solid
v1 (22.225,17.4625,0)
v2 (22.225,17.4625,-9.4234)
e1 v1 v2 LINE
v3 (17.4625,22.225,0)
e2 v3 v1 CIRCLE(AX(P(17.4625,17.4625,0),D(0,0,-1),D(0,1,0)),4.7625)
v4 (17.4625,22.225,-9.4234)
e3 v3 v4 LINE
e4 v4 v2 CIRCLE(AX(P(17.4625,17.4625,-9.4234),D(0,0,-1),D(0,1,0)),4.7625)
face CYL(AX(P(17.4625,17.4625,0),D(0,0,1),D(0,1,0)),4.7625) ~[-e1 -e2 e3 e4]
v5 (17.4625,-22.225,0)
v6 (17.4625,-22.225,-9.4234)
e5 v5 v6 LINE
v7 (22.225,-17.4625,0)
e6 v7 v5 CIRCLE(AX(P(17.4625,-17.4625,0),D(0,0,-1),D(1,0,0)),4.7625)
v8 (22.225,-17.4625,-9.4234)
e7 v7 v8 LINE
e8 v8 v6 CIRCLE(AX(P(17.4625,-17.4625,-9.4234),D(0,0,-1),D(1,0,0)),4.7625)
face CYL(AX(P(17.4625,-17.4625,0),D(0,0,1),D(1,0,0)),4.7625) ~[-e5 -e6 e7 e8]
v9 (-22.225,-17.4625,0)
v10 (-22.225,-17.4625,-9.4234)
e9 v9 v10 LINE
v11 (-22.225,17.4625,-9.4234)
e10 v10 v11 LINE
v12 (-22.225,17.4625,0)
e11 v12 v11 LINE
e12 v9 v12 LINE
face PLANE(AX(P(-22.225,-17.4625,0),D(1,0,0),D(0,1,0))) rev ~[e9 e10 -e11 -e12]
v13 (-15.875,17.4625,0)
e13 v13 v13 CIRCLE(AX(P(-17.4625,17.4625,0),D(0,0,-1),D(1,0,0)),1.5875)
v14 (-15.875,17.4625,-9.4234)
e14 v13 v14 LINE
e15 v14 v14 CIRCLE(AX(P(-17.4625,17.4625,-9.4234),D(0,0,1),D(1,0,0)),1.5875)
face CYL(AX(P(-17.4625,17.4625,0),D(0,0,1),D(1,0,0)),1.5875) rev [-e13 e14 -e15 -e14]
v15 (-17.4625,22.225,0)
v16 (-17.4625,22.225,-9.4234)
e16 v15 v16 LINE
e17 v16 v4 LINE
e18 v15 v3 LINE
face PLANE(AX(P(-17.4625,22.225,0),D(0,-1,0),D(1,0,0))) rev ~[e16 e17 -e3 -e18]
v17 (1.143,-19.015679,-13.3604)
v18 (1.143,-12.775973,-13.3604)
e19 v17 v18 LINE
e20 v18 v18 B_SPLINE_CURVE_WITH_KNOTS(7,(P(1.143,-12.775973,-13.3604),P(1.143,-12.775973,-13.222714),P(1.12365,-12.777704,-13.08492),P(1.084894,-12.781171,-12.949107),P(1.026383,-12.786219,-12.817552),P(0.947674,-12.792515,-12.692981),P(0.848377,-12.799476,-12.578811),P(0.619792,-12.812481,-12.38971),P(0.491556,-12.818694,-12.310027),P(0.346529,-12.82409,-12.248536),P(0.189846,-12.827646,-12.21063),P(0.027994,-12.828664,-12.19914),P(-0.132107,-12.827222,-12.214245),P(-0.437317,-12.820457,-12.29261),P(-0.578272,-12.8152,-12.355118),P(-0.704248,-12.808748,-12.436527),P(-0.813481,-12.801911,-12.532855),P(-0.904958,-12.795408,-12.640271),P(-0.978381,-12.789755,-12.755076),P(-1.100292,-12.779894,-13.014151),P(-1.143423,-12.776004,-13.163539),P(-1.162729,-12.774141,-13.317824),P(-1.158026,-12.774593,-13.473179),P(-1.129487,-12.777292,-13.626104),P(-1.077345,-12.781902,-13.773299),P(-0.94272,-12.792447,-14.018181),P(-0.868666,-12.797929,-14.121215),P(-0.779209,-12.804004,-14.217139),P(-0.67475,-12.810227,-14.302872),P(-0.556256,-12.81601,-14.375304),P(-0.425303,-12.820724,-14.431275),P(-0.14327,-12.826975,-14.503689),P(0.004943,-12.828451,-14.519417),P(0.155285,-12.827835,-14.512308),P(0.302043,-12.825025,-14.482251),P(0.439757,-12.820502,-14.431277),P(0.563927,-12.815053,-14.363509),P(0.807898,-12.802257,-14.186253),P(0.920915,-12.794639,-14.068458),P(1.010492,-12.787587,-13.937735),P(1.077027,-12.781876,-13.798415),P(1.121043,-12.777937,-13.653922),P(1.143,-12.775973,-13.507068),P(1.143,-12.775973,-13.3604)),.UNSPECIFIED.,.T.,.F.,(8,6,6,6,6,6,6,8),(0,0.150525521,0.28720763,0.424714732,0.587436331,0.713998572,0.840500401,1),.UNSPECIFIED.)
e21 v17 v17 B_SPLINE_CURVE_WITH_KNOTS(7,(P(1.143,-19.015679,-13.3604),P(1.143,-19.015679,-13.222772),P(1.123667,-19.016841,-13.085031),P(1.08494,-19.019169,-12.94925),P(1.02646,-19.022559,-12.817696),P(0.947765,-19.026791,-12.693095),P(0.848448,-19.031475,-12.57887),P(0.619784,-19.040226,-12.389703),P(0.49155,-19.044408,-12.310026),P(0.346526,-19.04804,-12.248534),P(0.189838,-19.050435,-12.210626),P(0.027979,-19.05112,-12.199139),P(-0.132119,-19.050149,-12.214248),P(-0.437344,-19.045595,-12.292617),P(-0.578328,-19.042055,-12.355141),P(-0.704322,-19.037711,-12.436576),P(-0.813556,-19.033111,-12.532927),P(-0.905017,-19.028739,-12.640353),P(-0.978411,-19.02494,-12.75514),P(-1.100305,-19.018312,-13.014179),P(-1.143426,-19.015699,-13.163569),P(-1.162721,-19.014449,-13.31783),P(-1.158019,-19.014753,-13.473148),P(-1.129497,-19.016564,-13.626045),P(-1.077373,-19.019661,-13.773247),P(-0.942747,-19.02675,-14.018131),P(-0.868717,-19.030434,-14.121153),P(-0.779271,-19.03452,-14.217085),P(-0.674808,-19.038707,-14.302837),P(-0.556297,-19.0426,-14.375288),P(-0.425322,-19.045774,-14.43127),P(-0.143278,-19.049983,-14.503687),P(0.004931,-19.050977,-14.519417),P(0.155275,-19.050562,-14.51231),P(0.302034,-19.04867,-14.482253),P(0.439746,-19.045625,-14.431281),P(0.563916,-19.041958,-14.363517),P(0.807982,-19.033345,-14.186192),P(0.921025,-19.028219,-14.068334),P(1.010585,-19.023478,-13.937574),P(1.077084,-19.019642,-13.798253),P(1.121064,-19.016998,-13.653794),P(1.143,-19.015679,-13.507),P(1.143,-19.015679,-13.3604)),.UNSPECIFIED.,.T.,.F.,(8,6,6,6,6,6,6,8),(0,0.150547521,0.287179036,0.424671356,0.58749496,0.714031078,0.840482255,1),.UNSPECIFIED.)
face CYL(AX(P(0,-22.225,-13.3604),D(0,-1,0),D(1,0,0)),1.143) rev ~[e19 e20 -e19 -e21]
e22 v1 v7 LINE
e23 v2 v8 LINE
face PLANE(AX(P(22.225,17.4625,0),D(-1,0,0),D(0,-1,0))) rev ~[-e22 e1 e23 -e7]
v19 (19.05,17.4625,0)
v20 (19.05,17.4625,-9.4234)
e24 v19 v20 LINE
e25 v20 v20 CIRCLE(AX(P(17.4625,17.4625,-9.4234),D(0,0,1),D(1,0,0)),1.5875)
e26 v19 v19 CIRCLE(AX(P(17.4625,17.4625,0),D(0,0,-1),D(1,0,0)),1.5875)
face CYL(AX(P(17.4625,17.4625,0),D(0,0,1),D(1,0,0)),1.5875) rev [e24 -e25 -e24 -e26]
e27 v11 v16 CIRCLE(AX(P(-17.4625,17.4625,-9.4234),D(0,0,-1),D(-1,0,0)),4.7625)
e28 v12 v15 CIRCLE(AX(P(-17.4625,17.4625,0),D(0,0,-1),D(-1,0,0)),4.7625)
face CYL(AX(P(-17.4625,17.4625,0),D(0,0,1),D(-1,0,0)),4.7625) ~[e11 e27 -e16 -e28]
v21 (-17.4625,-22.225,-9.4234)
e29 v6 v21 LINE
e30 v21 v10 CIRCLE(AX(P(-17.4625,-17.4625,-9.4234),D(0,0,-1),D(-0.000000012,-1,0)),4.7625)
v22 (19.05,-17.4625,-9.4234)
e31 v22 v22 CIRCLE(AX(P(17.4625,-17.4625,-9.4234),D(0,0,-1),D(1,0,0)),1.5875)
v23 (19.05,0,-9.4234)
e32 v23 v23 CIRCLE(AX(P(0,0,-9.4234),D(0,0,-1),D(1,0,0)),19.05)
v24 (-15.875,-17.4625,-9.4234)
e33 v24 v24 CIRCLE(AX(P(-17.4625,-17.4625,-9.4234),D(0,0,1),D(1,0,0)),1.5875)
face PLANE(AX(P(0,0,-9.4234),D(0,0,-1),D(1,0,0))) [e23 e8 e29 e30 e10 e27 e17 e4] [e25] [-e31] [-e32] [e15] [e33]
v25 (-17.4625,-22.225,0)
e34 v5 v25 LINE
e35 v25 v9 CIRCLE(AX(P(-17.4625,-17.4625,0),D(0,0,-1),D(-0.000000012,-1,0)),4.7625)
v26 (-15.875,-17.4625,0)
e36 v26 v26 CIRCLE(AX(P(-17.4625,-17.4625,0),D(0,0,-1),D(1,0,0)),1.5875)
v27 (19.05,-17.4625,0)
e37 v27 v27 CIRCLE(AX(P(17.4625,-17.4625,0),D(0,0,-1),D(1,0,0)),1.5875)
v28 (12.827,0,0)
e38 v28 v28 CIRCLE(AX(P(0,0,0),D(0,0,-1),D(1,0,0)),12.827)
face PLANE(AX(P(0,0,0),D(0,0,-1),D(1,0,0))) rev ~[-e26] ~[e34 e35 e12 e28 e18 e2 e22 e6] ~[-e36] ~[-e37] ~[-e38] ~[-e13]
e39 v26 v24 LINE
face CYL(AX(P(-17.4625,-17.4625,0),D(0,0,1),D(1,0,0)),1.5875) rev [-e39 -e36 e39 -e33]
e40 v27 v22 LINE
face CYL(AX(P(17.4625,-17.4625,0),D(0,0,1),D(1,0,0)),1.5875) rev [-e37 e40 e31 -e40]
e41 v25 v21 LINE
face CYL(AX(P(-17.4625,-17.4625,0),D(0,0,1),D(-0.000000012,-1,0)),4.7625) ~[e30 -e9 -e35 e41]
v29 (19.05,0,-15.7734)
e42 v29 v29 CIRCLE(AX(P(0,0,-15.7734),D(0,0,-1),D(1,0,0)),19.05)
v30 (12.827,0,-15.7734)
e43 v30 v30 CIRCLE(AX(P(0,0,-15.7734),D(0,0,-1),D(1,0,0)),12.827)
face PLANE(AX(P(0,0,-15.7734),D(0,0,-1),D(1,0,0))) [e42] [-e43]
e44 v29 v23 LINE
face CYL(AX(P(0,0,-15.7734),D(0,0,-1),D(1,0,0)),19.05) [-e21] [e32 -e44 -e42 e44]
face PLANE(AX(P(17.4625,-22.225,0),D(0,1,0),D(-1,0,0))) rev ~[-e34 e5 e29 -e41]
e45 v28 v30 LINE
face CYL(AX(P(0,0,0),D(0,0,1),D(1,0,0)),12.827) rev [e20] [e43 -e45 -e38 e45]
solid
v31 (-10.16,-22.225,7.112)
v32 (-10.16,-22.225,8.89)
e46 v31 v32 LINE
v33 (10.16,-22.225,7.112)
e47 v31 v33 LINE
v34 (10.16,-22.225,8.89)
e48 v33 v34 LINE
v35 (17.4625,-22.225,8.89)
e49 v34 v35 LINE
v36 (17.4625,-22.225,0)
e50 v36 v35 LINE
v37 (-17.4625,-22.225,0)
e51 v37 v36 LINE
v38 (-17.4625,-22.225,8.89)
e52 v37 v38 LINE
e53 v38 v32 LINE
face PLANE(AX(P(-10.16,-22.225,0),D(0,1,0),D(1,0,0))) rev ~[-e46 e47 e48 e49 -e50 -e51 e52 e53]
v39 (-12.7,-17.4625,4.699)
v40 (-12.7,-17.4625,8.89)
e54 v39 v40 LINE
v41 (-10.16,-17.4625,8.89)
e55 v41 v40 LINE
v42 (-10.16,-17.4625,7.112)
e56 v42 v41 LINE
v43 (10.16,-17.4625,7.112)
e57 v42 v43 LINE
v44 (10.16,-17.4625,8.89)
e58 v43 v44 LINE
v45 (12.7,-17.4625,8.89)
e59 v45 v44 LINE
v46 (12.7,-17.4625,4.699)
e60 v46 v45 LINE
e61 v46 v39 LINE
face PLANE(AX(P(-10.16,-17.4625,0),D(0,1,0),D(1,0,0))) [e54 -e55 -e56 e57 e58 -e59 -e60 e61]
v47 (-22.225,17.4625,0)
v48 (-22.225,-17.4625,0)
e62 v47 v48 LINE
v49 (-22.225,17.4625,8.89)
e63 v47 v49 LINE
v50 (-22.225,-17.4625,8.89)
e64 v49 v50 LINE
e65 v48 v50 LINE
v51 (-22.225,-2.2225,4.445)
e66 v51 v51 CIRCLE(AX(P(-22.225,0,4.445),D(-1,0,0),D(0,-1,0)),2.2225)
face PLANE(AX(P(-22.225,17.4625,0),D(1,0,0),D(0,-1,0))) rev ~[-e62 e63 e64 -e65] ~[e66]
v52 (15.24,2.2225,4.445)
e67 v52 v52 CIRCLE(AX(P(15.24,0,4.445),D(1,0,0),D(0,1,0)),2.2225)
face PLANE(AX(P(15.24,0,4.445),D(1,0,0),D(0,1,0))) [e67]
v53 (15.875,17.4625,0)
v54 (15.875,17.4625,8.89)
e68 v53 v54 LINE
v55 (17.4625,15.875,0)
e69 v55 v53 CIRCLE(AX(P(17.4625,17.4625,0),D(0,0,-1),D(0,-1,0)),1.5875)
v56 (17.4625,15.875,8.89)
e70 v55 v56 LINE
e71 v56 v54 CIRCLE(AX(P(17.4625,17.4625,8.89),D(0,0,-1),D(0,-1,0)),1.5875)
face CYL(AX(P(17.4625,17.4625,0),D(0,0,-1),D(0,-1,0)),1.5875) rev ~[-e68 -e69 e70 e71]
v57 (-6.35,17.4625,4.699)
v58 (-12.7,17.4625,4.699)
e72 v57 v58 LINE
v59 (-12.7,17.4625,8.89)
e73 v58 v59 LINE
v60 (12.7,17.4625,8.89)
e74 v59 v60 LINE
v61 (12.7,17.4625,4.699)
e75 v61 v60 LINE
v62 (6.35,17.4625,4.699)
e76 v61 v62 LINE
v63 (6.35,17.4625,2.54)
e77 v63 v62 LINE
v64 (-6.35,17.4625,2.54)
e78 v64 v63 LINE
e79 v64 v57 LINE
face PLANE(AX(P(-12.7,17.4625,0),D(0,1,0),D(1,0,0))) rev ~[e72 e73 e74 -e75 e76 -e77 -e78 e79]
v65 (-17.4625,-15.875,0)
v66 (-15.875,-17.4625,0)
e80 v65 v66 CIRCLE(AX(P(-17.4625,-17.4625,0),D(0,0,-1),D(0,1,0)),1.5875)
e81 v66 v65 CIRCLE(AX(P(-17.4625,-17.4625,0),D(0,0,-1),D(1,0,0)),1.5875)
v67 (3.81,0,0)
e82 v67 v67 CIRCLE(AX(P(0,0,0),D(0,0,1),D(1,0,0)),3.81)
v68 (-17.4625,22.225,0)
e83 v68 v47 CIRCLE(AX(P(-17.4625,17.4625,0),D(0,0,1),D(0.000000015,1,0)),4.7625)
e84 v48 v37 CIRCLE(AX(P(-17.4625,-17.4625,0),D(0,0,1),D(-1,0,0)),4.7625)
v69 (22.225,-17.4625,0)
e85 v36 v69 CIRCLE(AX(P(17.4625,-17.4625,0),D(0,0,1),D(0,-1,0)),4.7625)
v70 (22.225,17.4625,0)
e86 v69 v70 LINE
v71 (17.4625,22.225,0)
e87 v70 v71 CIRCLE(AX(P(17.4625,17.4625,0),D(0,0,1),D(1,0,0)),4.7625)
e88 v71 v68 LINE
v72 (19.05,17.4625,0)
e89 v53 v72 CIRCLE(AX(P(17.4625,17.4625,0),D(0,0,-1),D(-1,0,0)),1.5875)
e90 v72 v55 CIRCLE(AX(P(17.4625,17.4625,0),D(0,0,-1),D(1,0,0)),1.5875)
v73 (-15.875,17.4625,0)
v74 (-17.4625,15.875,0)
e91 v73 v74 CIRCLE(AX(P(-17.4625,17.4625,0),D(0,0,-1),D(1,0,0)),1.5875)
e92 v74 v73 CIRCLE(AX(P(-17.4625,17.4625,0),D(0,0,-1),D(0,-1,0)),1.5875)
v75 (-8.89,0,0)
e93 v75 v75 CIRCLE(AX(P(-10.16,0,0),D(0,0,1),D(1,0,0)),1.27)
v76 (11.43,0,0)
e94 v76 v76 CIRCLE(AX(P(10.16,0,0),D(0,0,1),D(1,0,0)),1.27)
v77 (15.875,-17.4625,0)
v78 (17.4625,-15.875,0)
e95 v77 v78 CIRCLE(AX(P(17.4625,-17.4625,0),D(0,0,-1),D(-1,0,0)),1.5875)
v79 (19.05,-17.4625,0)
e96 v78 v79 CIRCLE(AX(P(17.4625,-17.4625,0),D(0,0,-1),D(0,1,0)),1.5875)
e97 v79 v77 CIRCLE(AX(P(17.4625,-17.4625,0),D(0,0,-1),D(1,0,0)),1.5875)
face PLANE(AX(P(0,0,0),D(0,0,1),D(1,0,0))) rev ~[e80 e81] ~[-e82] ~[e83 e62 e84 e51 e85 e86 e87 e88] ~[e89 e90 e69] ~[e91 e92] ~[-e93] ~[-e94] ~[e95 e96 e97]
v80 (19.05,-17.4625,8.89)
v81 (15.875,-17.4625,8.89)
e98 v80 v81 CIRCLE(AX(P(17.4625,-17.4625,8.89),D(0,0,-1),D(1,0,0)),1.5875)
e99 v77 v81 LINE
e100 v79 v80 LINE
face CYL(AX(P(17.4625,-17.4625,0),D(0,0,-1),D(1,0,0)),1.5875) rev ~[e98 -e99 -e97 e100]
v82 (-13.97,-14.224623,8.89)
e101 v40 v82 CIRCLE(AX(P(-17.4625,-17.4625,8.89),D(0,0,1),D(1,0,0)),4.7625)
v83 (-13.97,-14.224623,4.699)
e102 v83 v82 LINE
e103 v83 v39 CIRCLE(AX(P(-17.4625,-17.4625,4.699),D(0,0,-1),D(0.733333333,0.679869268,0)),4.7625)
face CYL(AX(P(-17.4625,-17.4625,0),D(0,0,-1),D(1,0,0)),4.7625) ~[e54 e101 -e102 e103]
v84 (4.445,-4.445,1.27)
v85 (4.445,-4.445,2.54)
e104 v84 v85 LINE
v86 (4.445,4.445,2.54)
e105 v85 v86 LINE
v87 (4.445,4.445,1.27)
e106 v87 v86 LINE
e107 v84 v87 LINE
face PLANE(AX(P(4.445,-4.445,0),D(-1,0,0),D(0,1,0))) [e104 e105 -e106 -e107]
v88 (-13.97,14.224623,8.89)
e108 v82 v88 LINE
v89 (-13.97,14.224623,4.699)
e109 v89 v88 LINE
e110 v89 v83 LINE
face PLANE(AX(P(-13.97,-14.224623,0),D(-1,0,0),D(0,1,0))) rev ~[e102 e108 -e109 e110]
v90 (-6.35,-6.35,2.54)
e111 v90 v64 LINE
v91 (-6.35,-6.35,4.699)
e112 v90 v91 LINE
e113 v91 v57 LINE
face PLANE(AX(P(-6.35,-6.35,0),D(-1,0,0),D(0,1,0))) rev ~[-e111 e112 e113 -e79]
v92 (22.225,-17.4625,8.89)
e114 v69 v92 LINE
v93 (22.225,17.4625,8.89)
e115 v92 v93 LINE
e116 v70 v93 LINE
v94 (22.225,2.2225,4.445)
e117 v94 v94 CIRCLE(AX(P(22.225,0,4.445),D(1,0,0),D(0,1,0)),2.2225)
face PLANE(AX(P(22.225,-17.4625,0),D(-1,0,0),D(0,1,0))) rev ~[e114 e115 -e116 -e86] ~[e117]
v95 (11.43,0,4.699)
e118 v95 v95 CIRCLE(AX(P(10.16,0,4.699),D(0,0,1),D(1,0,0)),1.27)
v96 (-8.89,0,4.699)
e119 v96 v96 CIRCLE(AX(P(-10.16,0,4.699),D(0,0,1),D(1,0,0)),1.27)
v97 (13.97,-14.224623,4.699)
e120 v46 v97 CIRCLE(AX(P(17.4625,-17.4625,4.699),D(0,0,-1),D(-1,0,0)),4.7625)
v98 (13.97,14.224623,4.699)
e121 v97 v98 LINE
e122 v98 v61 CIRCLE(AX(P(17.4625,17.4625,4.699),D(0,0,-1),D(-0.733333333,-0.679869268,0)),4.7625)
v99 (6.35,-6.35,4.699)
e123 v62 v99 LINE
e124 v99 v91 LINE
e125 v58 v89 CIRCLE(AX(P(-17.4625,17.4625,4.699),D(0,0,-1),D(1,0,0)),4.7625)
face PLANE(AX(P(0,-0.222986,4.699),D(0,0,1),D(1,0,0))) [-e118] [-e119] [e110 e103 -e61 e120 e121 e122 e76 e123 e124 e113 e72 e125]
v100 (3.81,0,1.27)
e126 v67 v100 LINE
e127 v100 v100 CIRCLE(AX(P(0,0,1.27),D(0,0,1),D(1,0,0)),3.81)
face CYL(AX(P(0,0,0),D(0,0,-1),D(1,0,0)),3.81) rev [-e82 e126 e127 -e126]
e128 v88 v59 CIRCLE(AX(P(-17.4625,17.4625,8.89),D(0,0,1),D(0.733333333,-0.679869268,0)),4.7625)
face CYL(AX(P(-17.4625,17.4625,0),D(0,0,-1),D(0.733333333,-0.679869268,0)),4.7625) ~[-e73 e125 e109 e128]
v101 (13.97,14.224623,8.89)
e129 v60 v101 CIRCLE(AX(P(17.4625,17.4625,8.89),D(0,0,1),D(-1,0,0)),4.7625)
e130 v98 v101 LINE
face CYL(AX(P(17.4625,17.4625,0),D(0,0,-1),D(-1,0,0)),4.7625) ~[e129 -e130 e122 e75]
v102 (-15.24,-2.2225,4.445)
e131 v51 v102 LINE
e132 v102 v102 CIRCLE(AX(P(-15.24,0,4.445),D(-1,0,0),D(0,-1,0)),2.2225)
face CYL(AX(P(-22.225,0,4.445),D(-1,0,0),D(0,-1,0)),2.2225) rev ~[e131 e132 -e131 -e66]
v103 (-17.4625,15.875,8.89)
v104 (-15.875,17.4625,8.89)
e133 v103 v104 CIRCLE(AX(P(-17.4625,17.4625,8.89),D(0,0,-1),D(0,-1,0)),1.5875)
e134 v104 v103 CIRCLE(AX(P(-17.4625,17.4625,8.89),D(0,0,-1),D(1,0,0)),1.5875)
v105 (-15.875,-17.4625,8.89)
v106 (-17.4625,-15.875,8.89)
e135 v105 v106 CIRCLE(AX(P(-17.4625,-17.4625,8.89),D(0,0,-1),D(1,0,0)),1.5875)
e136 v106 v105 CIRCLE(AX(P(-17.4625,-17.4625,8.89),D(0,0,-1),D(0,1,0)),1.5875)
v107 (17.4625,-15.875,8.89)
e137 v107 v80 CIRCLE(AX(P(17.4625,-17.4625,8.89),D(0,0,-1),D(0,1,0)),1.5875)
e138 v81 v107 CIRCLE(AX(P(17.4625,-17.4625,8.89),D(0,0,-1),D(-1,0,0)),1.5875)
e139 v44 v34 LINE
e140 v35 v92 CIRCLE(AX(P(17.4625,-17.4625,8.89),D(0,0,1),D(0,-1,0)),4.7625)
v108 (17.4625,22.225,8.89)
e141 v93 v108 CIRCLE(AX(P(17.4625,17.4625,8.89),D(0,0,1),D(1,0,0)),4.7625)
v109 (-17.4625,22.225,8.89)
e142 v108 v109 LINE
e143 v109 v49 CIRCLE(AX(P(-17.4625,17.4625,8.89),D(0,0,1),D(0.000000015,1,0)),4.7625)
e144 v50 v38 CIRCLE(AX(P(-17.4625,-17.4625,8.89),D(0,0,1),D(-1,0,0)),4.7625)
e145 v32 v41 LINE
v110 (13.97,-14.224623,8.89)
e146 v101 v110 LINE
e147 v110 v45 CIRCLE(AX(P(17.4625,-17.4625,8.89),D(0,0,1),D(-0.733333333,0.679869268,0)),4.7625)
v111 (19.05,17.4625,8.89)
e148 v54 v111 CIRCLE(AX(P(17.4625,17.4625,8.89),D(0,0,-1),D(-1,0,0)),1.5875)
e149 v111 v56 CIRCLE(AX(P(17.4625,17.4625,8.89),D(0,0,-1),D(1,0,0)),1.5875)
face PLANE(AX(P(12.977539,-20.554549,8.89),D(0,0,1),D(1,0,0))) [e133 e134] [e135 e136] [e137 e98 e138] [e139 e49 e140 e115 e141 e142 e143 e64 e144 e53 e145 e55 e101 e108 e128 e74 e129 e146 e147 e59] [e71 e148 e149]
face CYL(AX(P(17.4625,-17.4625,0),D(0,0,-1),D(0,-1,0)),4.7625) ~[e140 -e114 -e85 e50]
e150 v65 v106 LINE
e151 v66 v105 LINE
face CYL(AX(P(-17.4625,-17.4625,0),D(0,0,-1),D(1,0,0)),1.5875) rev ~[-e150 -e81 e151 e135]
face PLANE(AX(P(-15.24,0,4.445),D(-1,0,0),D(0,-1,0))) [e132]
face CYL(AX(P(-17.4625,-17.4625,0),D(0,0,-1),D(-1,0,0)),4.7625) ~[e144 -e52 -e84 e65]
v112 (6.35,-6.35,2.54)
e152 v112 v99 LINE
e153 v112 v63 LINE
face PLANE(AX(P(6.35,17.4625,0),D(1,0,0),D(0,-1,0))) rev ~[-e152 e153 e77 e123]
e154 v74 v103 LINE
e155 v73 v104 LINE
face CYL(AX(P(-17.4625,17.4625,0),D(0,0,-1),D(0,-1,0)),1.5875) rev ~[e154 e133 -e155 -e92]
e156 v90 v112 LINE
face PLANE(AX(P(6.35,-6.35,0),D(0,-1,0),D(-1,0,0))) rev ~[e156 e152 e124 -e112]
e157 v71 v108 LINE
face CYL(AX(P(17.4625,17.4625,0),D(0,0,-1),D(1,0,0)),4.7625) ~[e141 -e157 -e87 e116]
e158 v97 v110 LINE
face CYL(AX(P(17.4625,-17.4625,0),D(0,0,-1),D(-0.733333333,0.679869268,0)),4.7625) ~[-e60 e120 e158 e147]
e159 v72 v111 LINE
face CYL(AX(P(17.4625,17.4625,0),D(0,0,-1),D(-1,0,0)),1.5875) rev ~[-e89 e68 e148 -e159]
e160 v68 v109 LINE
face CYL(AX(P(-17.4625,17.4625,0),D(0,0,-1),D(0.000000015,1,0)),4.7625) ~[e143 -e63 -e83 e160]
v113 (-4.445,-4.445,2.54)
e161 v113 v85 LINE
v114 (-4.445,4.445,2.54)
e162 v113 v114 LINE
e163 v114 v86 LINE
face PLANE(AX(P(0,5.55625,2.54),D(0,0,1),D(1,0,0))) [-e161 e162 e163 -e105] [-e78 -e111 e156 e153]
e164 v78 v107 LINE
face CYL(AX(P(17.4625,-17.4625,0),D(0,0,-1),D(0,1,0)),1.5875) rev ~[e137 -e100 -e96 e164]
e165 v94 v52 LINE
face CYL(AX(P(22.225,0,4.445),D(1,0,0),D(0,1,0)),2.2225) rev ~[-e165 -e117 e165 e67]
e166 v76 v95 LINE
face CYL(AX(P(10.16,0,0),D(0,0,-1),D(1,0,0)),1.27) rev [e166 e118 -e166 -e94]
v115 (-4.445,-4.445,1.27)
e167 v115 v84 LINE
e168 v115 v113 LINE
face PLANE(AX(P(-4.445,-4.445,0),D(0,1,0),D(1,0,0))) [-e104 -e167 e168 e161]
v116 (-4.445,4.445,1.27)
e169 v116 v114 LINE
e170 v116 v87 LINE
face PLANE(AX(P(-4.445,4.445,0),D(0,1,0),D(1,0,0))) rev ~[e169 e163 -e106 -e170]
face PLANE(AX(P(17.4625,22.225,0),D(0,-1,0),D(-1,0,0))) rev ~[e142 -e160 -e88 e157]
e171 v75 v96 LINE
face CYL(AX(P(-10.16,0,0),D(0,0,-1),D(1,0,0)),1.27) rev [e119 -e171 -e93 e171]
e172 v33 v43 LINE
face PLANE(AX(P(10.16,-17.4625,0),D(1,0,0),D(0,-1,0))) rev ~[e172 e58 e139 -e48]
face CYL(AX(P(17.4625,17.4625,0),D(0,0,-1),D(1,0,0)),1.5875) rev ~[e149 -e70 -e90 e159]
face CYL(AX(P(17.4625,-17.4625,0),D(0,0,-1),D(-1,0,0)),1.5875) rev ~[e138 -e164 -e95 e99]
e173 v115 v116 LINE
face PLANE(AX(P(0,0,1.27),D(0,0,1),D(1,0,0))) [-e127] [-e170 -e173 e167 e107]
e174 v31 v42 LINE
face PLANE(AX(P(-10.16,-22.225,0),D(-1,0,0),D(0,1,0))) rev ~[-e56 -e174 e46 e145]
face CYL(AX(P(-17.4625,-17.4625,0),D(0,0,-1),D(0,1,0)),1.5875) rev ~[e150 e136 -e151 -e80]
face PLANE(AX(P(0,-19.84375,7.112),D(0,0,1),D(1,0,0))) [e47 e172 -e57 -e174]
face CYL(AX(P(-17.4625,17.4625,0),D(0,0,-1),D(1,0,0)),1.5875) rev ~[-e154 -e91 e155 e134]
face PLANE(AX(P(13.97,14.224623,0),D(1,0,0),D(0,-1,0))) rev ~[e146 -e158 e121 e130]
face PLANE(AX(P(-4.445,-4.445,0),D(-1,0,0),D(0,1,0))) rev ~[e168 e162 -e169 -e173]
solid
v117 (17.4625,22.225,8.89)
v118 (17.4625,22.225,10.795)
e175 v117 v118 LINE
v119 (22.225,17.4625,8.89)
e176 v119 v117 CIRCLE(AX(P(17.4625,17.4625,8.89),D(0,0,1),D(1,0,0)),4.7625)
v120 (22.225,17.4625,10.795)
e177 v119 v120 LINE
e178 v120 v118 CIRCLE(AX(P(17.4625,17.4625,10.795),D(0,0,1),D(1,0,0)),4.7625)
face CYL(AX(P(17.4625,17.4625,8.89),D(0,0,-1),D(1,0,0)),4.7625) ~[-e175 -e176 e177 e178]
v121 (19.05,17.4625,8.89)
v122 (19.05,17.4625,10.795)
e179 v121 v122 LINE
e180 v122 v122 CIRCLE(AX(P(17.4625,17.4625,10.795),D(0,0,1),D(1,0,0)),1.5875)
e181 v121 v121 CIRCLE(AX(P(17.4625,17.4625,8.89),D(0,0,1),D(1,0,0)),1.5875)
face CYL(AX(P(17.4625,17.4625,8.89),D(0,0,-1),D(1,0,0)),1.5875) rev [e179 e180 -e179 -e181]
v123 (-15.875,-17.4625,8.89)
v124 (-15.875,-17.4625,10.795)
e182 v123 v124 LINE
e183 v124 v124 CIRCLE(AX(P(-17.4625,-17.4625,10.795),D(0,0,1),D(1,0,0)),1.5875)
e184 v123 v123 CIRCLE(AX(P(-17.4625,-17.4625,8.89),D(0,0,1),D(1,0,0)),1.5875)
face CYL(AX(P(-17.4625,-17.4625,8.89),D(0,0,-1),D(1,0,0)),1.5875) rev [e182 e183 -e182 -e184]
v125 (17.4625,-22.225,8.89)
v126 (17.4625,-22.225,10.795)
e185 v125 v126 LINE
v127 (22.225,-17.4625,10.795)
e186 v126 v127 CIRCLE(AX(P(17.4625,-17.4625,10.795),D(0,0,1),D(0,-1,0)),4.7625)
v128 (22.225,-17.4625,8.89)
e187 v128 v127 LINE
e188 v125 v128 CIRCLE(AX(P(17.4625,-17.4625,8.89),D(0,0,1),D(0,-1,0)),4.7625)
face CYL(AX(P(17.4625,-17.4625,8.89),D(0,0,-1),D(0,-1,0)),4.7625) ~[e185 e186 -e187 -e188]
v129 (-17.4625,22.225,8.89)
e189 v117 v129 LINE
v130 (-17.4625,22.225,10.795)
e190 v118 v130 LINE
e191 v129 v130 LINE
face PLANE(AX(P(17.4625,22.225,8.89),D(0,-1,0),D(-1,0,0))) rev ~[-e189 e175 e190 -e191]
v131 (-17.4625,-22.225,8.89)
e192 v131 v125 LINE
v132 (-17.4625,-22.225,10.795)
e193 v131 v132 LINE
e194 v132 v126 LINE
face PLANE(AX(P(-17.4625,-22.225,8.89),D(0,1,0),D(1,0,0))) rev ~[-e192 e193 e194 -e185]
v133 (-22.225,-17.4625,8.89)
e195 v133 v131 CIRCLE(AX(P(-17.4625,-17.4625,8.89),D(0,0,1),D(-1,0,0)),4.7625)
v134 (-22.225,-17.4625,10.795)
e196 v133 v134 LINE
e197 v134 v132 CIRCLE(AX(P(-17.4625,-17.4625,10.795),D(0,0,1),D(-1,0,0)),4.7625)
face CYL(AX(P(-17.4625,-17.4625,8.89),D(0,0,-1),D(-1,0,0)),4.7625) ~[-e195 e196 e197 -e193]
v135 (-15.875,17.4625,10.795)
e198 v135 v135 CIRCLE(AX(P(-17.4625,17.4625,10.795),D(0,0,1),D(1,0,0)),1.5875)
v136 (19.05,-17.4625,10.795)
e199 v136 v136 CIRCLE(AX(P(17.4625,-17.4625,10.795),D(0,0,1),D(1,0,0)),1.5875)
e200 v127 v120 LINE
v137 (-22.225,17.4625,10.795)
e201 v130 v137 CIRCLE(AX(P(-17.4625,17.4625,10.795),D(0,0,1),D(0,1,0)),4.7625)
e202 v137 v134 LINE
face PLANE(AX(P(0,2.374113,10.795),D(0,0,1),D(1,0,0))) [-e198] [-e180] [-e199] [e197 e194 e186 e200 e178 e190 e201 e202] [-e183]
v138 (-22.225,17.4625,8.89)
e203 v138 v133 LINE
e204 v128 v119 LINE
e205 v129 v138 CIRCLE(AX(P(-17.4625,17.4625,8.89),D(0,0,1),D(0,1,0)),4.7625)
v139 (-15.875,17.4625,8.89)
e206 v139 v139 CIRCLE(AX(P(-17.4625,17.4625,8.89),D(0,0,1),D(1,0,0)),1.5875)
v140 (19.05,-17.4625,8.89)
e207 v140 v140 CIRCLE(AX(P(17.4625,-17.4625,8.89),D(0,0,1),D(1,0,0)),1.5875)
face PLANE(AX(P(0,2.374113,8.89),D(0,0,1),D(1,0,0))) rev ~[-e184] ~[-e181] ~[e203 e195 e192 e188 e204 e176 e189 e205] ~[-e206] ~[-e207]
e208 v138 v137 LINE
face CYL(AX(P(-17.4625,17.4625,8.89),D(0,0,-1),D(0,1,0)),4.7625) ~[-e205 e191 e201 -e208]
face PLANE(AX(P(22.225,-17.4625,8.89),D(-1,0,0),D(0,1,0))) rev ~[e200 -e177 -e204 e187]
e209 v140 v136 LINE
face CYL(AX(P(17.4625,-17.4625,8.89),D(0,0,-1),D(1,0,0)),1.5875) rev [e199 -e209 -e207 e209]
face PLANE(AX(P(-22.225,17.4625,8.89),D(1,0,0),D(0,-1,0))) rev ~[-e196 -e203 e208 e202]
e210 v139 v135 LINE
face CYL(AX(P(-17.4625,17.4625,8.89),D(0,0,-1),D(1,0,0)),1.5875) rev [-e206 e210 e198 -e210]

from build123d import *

# Parameters (mm, degrees)
F0_R      = 1.27
F1_DEPTH  = 4.699
F0_W      = 12.7
F0_H      = 23.8125
F0_W_2    = 8.89
F0_H_2    = 8.89
F2_DEPTH  = 2.54
F3_DEPTH  = 8.89
F0_W_3    = 20.32
F0_H_3    = 4.7625
F4_DEPTH  = 7.112
F0_R_2    = 3.81
F5_DEPTH  = 1.27
F6_R      = 1.5875
F6_R_2    = 12.827
F7_DEPTH  = 15.7734
F8_R      = 1.5875
F9_DEPTH  = 1.905
F10_R     = 1.143
F11_DEPTH = 9.4500273394
F12_R     = 1.5875
F12_R_2   = 19.05
F13_DEPTH = 6.35
F14_R     = 2.2225
F15_DEPTH = 6.985
F16_R     = 2.2225
F17_DEPTH = 6.985


with BuildPart() as f1:
    # F0 (on Top) → F1 (new body)
    with BuildSketch(Plane.XY):
        with BuildLine():
            Line((-6.35, -6.35), (-6.35, 17.4625))
            Line((-6.35, 17.4625), (-12.7, 17.4625))
            ThreePointArc((-12.7, 17.4625), (-13.0288537861, 15.7234808799), (-13.97, 14.2246226089))
            Line((-13.97, 14.2246226089), (-13.97, -14.2246226089))
            ThreePointArc((-13.97, -14.2246226089), (-13.0288537861, -15.7234808799), (-12.7, -17.4625))
            Line((-12.7, -17.4625), (-10.16, -17.4625))
            Line((-10.16, -17.4625), (10.16, -17.4625))
            Line((10.16, -17.4625), (12.7, -17.4625))
            ThreePointArc((12.7, -17.4625), (13.0288537861, -15.7234808799), (13.97, -14.2246226089))
            Line((13.97, -14.2246226089), (13.97, 14.2246226089))
            ThreePointArc((13.97, 14.2246226089), (13.0288537861, 15.7234808799), (12.7, 17.4625))
            Line((12.7, 17.4625), (6.35, 17.4625))
            Line((6.35, 17.4625), (6.35, -6.35))
            Line((6.35, -6.35), (-6.35, -6.35))
        make_face()
        with Locations((-10.16, 0)):
            Circle(F0_R, mode=Mode.SUBTRACT)
        with Locations((-10.16, 12.7)):
            Circle(F0_R, mode=Mode.SUBTRACT)
        with Locations((10.16, 0)):
            Circle(F0_R, mode=Mode.SUBTRACT)
        with Locations((10.16, 12.7)):
            Circle(F0_R, mode=Mode.SUBTRACT)
        with Locations((10.16, 12.7)):
            Circle(F0_R)
        with Locations((-10.16, 12.7)):
            Circle(F0_R)
    extrude(amount=F1_DEPTH)

    # F0 (on Top) → F2 (join)
    with BuildSketch(Plane.XY):
        with Locations((0, 5.55625)):
            Rectangle(F0_W, F0_H)
        Rectangle(F0_W_2, F0_H_2, mode=Mode.SUBTRACT)
    extrude(amount=F2_DEPTH)

    # F0 (on Top) → F3 (join)
    with BuildSketch(Plane.XY):
        with BuildLine():
            ThreePointArc((17.4625, -22.225), (14.0949039546, -20.8300960454), (12.7, -17.4625))
            Line((12.7, -17.4625), (10.16, -17.4625))
            Line((10.16, -17.4625), (10.16, -22.225))
            Line((10.16, -22.225), (17.4625, -22.225))
        make_face()
        with BuildLine():
            ThreePointArc((17.4625, -22.225), (20.8300960454, -20.8300960454), (22.225, -17.4625))
            ThreePointArc((22.225, -17.4625), (20.8300960454, -14.0949039546), (17.4625, -12.7))
            Line((17.4625, -12.7), (17.4625, -15.875))
            ThreePointArc((17.4625, -15.875), (18.5850320151, -16.3399679849), (19.05, -17.4625))
            ThreePointArc((19.05, -17.4625), (17.4625, -19.05), (15.875, -17.4625))
            Line((15.875, -17.4625), (12.7, -17.4625))
            ThreePointArc((12.7, -17.4625), (14.0949039546, -20.8300960454), (17.4625, -22.225))
        make_face()
        with BuildLine():
            ThreePointArc((17.4625, -12.7), (15.5571109092, -13.0977664844), (13.97, -14.2246226089))
            ThreePointArc((13.97, -14.2246226089), (13.0288537861, -15.7234808799), (12.7, -17.4625))
            Line((12.7, -17.4625), (15.875, -17.4625))
            ThreePointArc((15.875, -17.4625), (16.3399679849, -16.3399679849), (17.4625, -15.875))
            Line((17.4625, -15.875), (17.4625, -12.7))
        make_face()
        with BuildLine():
            Line((22.225, -17.4625), (22.225, 17.4625))
            ThreePointArc((22.225, 17.4625), (20.8300960454, 14.0949039546), (17.4625, 12.7))
            Line((17.4625, 12.7), (17.4625, -12.7))
            ThreePointArc((17.4625, -12.7), (20.8300960454, -14.0949039546), (22.225, -17.4625))
        make_face()
        with BuildLine():
            Line((15.875, 17.4625), (12.7, 17.4625))
            ThreePointArc((12.7, 17.4625), (13.0288537861, 15.7234808799), (13.97, 14.2246226089))
            ThreePointArc((13.97, 14.2246226089), (15.5571109092, 13.0977664844), (17.4625, 12.7))
            Line((17.4625, 12.7), (17.4625, 15.875))
            ThreePointArc((17.4625, 15.875), (16.3399679849, 16.3399679849), (15.875, 17.4625))
        make_face()
        with BuildLine():
            ThreePointArc((17.4625, 22.225), (14.0949039546, 20.8300960454), (12.7, 17.4625))
            Line((12.7, 17.4625), (15.875, 17.4625))
            ThreePointArc((15.875, 17.4625), (17.4625, 19.05), (19.05, 17.4625))
            ThreePointArc((19.05, 17.4625), (18.5850320151, 16.3399679849), (17.4625, 15.875))
            Line((17.4625, 15.875), (17.4625, 12.7))
            ThreePointArc((17.4625, 12.7), (20.8300960454, 14.0949039546), (22.225, 17.4625))
            ThreePointArc((22.225, 17.4625), (20.8300960454, 20.8300960454), (17.4625, 22.225))
        make_face()
        with BuildLine():
            Line((-12.7, 17.4625), (-6.35, 17.4625))
            Line((-6.35, 17.4625), (6.35, 17.4625))
            Line((6.35, 17.4625), (12.7, 17.4625))
            ThreePointArc((12.7, 17.4625), (14.0949039546, 20.8300960454), (17.4625, 22.225))
            Line((17.4625, 22.225), (-17.4624999301, 22.225))
            ThreePointArc((-17.4624999301, 22.225), (-14.0949039299, 20.8300960207), (-12.7, 17.4625))
        make_face()
        with BuildLine():
            ThreePointArc((-12.7, -17.4625), (-13.0288537861, -15.7234808799), (-13.97, -14.2246226089))
            ThreePointArc((-13.97, -14.2246226089), (-15.5571109092, -13.0977664844), (-17.4625, -12.7))
            Line((-17.4625, -12.7), (-17.4625, -15.875))
            ThreePointArc((-17.4625, -15.875), (-16.3399679849, -16.3399679849), (-15.875, -17.4625))
            Line((-15.875, -17.4625), (-12.7, -17.4625))
        make_face()
        with BuildLine():
            Line((-17.4625, -15.875), (-17.4625, -12.7))
            ThreePointArc((-17.4625, -12.7), (-20.8300960454, -14.0949039546), (-22.225, -17.4625))
            ThreePointArc((-22.225, -17.4625), (-20.8300960661, -20.8300960247), (-17.4625000586, -22.225))
            ThreePointArc((-17.4625000586, -22.225), (-14.0949039753, -20.8300960661), (-12.7, -17.4625))
            Line((-12.7, -17.4625), (-15.875, -17.4625))
            ThreePointArc((-15.875, -17.4625), (-18.5850320151, -18.5850320151), (-17.4625, -15.875))
        make_face()
        with BuildLine():
            Line((-17.4625, -12.7), (-17.4625, 12.7))
            ThreePointArc((-17.4625, 12.7), (-20.8300960454, 14.0949039546), (-22.225, 17.4625))
            Line((-22.225, 17.4625), (-22.225, -17.4625))
            ThreePointArc((-22.225, -17.4625), (-20.8300960454, -14.0949039546), (-17.4625, -12.7))
        make_face()
        with BuildLine():
            ThreePointArc((-13.97, 14.2246226089), (-13.0288537861, 15.7234808799), (-12.7, 17.4625))
            Line((-12.7, 17.4625), (-15.875, 17.4625))
            ThreePointArc((-15.875, 17.4625), (-16.3399679849, 16.3399679849), (-17.4625, 15.875))
            Line((-17.4625, 15.875), (-17.4625, 12.7))
            ThreePointArc((-17.4625, 12.7), (-15.5571109092, 13.0977664844), (-13.97, 14.2246226089))
        make_face()
        with BuildLine():
            Line((-15.875, 17.4625), (-12.7, 17.4625))
            ThreePointArc((-12.7, 17.4625), (-14.0949039299, 20.8300960207), (-17.4624999301, 22.225))
            ThreePointArc((-17.4624999301, 22.225), (-20.8300960207, 20.8300960701), (-22.225, 17.4625))
            ThreePointArc((-22.225, 17.4625), (-20.8300960454, 14.0949039546), (-17.4625, 12.7))
            Line((-17.4625, 12.7), (-17.4625, 15.875))
            ThreePointArc((-17.4625, 15.875), (-18.5850320151, 18.5850320151), (-15.875, 17.4625))
        make_face()
        with BuildLine():
            Line((-10.16, -17.4625), (-12.7, -17.4625))
            ThreePointArc((-12.7, -17.4625), (-14.0949039753, -20.8300960661), (-17.4625000586, -22.225))
            Line((-17.4625000586, -22.225), (-10.16, -22.225))
            Line((-10.16, -22.225), (-10.16, -17.4625))
        make_face()
        with BuildLine():
            Line((-13.97, -14.2246226089), (-13.97, 14.2246226089))
            ThreePointArc((-13.97, 14.2246226089), (-15.5571109092, 13.0977664844), (-17.4625, 12.7))
            Line((-17.4625, 12.7), (-17.4625, -12.7))
            ThreePointArc((-17.4625, -12.7), (-15.5571109092, -13.0977664844), (-13.97, -14.2246226089))
        make_face()
        with BuildLine():
            ThreePointArc((17.4625, 12.7), (15.5571109092, 13.0977664844), (13.97, 14.2246226089))
            Line((13.97, 14.2246226089), (13.97, -14.2246226089))
            ThreePointArc((13.97, -14.2246226089), (15.5571109092, -13.0977664844), (17.4625, -12.7))
            Line((17.4625, -12.7), (17.4625, 12.7))
        make_face()
    extrude(amount=F3_DEPTH)

    # F0 (on Top) → F4 (join)
    with BuildSketch(Plane.XY):
        with Locations((0, -19.84375)):
            Rectangle(F0_W_3, F0_H_3)
    extrude(amount=F4_DEPTH)

    # F0 (on Top) → F5 (join)
    with BuildSketch(Plane.XY):
        Rectangle(F0_W_2, F0_H_2)
        Circle(F0_R_2, mode=Mode.SUBTRACT)
    extrude(amount=F5_DEPTH)

    # F14 (on face) → F15 (cut)
    with BuildSketch(Plane(origin=(-22.225, 0, 0), x_dir=(0, -1, 0), z_dir=(-1, 0, 0))):
        with Locations((0, 4.445)):
            Circle(F14_R)
    extrude(amount=-F15_DEPTH, mode=Mode.SUBTRACT)

    # F16 (on face) → F17 (cut)
    with BuildSketch(Plane.YZ.offset(22.225)):
        with Locations((0, 4.445)):
            Circle(F16_R)
    extrude(amount=-F17_DEPTH, mode=Mode.SUBTRACT)


with BuildPart() as f7:
    # F6 (on face) → F7 (new body)
    with BuildSketch(Plane(origin=(0, 0, 0), x_dir=(1, 0, 0), z_dir=(0, 0, -1))):
        with BuildLine():
            ThreePointArc((22.225, 17.4625), (20.8300960454, 20.8300960454), (17.4625, 22.225))
            Line((17.4625, 22.225), (-17.4625000586, 22.225))
            ThreePointArc((-17.4625000586, 22.225), (-20.8300960661, 20.8300960247), (-22.225, 17.4625))
            Line((-22.225, 17.4625), (-22.225, -17.4625))
            ThreePointArc((-22.225, -17.4625), (-20.8300960207, -20.8300960701), (-17.4624999301, -22.225))
            Line((-17.4624999301, -22.225), (17.4625, -22.225))
            ThreePointArc((17.4625, -22.225), (20.8300960454, -20.8300960454), (22.225, -17.4625))
            Line((22.225, -17.4625), (22.225, 17.4625))
        make_face()
        with Locations((-17.4625, -17.4625)):
            Circle(F6_R, mode=Mode.SUBTRACT)
        with Locations((17.4625, -17.4625)):
            Circle(F6_R, mode=Mode.SUBTRACT)
        with Locations((-17.4625, 17.4625)):
            Circle(F6_R, mode=Mode.SUBTRACT)
        Circle(F6_R_2, mode=Mode.SUBTRACT)
        with Locations((17.4625, 17.4625)):
            Circle(F6_R, mode=Mode.SUBTRACT)
    extrude(amount=F7_DEPTH)

    # F10 (on face) → F11 (cut, through all)
    with BuildSketch(Plane.XZ.offset(22.225)):
        with Locations((0, -13.3604)):
            Circle(F10_R)
    extrude(amount=-F11_DEPTH, mode=Mode.SUBTRACT)

    # F12 (on face) → F13 (cut)
    with BuildSketch(Plane(origin=(0, 0, -15.7734), x_dir=(1, 0, 0), z_dir=(0, 0, -1))):
        with BuildLine():
            Line((22.225, -17.4625), (22.225, 17.4625))
            ThreePointArc((22.225, 17.4625), (20.8300960454, 20.8300960454), (17.4625, 22.225))
            Line((17.4625, 22.225), (-17.4625000586, 22.225))
            ThreePointArc((-17.4625000586, 22.225), (-20.8300960661, 20.8300960247), (-22.225, 17.4625))
            Line((-22.225, 17.4625), (-22.225, -17.4625))
            ThreePointArc((-22.225, -17.4625), (-20.8300960207, -20.8300960701), (-17.4624999301, -22.225))
            Line((-17.4624999301, -22.225), (17.4625, -22.225))
            ThreePointArc((17.4625, -22.225), (20.8300960454, -20.8300960454), (22.225, -17.4625))
        make_face()
        with Locations((-17.4625, -17.4625)):
            Circle(F12_R, mode=Mode.SUBTRACT)
        with Locations((17.4625, -17.4625)):
            Circle(F12_R, mode=Mode.SUBTRACT)
        with Locations((-17.4625, 17.4625)):
            Circle(F12_R, mode=Mode.SUBTRACT)
        Circle(F12_R_2, mode=Mode.SUBTRACT)
        with Locations((17.4625, 17.4625)):
            Circle(F12_R, mode=Mode.SUBTRACT)
        with Locations((17.4625, -17.4625)):
            Circle(F12_R)
        with Locations((-17.4625, -17.4625)):
            Circle(F12_R)
        with Locations((-17.4625, 17.4625)):
            Circle(F12_R)
    extrude(amount=-F13_DEPTH, mode=Mode.SUBTRACT)


with BuildPart() as f9:
    # F8 (on face) → F9 (new body)
    with BuildSketch(Plane.XY.offset(8.89)):
        with BuildLine():
            Line((10.16, -22.225), (17.4625, -22.225))
            ThreePointArc((17.4625, -22.225), (20.8300960454, -20.8300960454), (22.225, -17.4625))
            Line((22.225, -17.4625), (22.225, 17.4625))
            ThreePointArc((22.225, 17.4625), (20.8300960454, 20.8300960454), (17.4625, 22.225))
            Line((17.4625, 22.225), (-17.4625, 22.225))
            ThreePointArc((-17.4625, 22.225), (-20.8300960454, 20.8300960454), (-22.225, 17.4625))
            Line((-22.225, 17.4625), (-22.225, -17.4625))
            ThreePointArc((-22.225, -17.4625), (-20.8300960454, -20.8300960454), (-17.4625, -22.225))
            Line((-17.462500039, -22.225), (-10.16, -22.225))
            Line((-10.16, -22.225), (-10.16, -17.4625))
            Line((-10.16, -17.4625), (-12.7, -17.4625))
            ThreePointArc((-12.7, -17.4625), (-13.0288537861, -15.7234808799), (-13.97, -14.2246226089))
            Line((-13.97, -14.2246226089), (-13.97, 14.2246226089))
            ThreePointArc((-13.97, 14.2246226089), (-13.0288537861, 15.7234808799), (-12.7, 17.4625))
            Line((-12.7, 17.4625), (12.7, 17.4625))
            ThreePointArc((12.7, 17.4625), (13.0288537861, 15.7234808799), (13.97, 14.2246226089))
            Line((13.97, 14.2246226089), (13.97, -14.2246226089))
            ThreePointArc((13.97, -14.2246226089), (13.0288537861, -15.7234808799), (12.7, -17.4625))
            Line((12.7, -17.4625), (10.16, -17.4625))
            Line((10.16, -17.4625), (10.16, -22.225))
        make_face()
        with Locations((-17.4625, -17.4625)):
            Circle(F8_R, mode=Mode.SUBTRACT)
        with Locations((17.4625, -17.4625)):
            Circle(F8_R, mode=Mode.SUBTRACT)
        with Locations((-17.4625, 17.4625)):
            Circle(F8_R, mode=Mode.SUBTRACT)
        with Locations((17.4625, 17.4625)):
            Circle(F8_R, mode=Mode.SUBTRACT)
        with BuildLine():
            Line((9.779, -17.4625), (10.16, -17.4625))
            Line((10.16, -17.4625), (12.7, -17.4625))
            ThreePointArc((12.7, -17.4625), (13.0288537861, -15.7234808799), (13.97, -14.2246226089))
            Line((13.97, -14.2246226089), (13.97, 14.2246226089))
            ThreePointArc((13.97, 14.2246226089), (13.0288537861, 15.7234808799), (12.7, 17.4625))
            Line((12.7, 17.4625), (-12.7, 17.4625))
            ThreePointArc((-12.7, 17.4625), (-13.0288537861, 15.7234808799), (-13.97, 14.2246226089))
            Line((-13.97, 14.2246226089), (-13.97, -14.2246226089))
            ThreePointArc((-13.97, -14.2246226089), (-13.0288537861, -15.7234808799), (-12.7, -17.4625))
            Line((-12.7, -17.4625), (-10.16, -17.4625))
            Line((-10.16, -17.4625), (-9.779, -17.4625))
            Line((-9.779, -17.4625), (9.779, -17.4625))
        make_face()
        Polygon((-10.16, -22.225), (10.16, -22.225), (10.16, -17.4625), (9.779, -17.4625), (-9.779, -17.4625), (-10.16, -17.4625), align=None)
    extrude(amount=F9_DEPTH)


solid = Compound([f1.part, f7.part, f9.part])
